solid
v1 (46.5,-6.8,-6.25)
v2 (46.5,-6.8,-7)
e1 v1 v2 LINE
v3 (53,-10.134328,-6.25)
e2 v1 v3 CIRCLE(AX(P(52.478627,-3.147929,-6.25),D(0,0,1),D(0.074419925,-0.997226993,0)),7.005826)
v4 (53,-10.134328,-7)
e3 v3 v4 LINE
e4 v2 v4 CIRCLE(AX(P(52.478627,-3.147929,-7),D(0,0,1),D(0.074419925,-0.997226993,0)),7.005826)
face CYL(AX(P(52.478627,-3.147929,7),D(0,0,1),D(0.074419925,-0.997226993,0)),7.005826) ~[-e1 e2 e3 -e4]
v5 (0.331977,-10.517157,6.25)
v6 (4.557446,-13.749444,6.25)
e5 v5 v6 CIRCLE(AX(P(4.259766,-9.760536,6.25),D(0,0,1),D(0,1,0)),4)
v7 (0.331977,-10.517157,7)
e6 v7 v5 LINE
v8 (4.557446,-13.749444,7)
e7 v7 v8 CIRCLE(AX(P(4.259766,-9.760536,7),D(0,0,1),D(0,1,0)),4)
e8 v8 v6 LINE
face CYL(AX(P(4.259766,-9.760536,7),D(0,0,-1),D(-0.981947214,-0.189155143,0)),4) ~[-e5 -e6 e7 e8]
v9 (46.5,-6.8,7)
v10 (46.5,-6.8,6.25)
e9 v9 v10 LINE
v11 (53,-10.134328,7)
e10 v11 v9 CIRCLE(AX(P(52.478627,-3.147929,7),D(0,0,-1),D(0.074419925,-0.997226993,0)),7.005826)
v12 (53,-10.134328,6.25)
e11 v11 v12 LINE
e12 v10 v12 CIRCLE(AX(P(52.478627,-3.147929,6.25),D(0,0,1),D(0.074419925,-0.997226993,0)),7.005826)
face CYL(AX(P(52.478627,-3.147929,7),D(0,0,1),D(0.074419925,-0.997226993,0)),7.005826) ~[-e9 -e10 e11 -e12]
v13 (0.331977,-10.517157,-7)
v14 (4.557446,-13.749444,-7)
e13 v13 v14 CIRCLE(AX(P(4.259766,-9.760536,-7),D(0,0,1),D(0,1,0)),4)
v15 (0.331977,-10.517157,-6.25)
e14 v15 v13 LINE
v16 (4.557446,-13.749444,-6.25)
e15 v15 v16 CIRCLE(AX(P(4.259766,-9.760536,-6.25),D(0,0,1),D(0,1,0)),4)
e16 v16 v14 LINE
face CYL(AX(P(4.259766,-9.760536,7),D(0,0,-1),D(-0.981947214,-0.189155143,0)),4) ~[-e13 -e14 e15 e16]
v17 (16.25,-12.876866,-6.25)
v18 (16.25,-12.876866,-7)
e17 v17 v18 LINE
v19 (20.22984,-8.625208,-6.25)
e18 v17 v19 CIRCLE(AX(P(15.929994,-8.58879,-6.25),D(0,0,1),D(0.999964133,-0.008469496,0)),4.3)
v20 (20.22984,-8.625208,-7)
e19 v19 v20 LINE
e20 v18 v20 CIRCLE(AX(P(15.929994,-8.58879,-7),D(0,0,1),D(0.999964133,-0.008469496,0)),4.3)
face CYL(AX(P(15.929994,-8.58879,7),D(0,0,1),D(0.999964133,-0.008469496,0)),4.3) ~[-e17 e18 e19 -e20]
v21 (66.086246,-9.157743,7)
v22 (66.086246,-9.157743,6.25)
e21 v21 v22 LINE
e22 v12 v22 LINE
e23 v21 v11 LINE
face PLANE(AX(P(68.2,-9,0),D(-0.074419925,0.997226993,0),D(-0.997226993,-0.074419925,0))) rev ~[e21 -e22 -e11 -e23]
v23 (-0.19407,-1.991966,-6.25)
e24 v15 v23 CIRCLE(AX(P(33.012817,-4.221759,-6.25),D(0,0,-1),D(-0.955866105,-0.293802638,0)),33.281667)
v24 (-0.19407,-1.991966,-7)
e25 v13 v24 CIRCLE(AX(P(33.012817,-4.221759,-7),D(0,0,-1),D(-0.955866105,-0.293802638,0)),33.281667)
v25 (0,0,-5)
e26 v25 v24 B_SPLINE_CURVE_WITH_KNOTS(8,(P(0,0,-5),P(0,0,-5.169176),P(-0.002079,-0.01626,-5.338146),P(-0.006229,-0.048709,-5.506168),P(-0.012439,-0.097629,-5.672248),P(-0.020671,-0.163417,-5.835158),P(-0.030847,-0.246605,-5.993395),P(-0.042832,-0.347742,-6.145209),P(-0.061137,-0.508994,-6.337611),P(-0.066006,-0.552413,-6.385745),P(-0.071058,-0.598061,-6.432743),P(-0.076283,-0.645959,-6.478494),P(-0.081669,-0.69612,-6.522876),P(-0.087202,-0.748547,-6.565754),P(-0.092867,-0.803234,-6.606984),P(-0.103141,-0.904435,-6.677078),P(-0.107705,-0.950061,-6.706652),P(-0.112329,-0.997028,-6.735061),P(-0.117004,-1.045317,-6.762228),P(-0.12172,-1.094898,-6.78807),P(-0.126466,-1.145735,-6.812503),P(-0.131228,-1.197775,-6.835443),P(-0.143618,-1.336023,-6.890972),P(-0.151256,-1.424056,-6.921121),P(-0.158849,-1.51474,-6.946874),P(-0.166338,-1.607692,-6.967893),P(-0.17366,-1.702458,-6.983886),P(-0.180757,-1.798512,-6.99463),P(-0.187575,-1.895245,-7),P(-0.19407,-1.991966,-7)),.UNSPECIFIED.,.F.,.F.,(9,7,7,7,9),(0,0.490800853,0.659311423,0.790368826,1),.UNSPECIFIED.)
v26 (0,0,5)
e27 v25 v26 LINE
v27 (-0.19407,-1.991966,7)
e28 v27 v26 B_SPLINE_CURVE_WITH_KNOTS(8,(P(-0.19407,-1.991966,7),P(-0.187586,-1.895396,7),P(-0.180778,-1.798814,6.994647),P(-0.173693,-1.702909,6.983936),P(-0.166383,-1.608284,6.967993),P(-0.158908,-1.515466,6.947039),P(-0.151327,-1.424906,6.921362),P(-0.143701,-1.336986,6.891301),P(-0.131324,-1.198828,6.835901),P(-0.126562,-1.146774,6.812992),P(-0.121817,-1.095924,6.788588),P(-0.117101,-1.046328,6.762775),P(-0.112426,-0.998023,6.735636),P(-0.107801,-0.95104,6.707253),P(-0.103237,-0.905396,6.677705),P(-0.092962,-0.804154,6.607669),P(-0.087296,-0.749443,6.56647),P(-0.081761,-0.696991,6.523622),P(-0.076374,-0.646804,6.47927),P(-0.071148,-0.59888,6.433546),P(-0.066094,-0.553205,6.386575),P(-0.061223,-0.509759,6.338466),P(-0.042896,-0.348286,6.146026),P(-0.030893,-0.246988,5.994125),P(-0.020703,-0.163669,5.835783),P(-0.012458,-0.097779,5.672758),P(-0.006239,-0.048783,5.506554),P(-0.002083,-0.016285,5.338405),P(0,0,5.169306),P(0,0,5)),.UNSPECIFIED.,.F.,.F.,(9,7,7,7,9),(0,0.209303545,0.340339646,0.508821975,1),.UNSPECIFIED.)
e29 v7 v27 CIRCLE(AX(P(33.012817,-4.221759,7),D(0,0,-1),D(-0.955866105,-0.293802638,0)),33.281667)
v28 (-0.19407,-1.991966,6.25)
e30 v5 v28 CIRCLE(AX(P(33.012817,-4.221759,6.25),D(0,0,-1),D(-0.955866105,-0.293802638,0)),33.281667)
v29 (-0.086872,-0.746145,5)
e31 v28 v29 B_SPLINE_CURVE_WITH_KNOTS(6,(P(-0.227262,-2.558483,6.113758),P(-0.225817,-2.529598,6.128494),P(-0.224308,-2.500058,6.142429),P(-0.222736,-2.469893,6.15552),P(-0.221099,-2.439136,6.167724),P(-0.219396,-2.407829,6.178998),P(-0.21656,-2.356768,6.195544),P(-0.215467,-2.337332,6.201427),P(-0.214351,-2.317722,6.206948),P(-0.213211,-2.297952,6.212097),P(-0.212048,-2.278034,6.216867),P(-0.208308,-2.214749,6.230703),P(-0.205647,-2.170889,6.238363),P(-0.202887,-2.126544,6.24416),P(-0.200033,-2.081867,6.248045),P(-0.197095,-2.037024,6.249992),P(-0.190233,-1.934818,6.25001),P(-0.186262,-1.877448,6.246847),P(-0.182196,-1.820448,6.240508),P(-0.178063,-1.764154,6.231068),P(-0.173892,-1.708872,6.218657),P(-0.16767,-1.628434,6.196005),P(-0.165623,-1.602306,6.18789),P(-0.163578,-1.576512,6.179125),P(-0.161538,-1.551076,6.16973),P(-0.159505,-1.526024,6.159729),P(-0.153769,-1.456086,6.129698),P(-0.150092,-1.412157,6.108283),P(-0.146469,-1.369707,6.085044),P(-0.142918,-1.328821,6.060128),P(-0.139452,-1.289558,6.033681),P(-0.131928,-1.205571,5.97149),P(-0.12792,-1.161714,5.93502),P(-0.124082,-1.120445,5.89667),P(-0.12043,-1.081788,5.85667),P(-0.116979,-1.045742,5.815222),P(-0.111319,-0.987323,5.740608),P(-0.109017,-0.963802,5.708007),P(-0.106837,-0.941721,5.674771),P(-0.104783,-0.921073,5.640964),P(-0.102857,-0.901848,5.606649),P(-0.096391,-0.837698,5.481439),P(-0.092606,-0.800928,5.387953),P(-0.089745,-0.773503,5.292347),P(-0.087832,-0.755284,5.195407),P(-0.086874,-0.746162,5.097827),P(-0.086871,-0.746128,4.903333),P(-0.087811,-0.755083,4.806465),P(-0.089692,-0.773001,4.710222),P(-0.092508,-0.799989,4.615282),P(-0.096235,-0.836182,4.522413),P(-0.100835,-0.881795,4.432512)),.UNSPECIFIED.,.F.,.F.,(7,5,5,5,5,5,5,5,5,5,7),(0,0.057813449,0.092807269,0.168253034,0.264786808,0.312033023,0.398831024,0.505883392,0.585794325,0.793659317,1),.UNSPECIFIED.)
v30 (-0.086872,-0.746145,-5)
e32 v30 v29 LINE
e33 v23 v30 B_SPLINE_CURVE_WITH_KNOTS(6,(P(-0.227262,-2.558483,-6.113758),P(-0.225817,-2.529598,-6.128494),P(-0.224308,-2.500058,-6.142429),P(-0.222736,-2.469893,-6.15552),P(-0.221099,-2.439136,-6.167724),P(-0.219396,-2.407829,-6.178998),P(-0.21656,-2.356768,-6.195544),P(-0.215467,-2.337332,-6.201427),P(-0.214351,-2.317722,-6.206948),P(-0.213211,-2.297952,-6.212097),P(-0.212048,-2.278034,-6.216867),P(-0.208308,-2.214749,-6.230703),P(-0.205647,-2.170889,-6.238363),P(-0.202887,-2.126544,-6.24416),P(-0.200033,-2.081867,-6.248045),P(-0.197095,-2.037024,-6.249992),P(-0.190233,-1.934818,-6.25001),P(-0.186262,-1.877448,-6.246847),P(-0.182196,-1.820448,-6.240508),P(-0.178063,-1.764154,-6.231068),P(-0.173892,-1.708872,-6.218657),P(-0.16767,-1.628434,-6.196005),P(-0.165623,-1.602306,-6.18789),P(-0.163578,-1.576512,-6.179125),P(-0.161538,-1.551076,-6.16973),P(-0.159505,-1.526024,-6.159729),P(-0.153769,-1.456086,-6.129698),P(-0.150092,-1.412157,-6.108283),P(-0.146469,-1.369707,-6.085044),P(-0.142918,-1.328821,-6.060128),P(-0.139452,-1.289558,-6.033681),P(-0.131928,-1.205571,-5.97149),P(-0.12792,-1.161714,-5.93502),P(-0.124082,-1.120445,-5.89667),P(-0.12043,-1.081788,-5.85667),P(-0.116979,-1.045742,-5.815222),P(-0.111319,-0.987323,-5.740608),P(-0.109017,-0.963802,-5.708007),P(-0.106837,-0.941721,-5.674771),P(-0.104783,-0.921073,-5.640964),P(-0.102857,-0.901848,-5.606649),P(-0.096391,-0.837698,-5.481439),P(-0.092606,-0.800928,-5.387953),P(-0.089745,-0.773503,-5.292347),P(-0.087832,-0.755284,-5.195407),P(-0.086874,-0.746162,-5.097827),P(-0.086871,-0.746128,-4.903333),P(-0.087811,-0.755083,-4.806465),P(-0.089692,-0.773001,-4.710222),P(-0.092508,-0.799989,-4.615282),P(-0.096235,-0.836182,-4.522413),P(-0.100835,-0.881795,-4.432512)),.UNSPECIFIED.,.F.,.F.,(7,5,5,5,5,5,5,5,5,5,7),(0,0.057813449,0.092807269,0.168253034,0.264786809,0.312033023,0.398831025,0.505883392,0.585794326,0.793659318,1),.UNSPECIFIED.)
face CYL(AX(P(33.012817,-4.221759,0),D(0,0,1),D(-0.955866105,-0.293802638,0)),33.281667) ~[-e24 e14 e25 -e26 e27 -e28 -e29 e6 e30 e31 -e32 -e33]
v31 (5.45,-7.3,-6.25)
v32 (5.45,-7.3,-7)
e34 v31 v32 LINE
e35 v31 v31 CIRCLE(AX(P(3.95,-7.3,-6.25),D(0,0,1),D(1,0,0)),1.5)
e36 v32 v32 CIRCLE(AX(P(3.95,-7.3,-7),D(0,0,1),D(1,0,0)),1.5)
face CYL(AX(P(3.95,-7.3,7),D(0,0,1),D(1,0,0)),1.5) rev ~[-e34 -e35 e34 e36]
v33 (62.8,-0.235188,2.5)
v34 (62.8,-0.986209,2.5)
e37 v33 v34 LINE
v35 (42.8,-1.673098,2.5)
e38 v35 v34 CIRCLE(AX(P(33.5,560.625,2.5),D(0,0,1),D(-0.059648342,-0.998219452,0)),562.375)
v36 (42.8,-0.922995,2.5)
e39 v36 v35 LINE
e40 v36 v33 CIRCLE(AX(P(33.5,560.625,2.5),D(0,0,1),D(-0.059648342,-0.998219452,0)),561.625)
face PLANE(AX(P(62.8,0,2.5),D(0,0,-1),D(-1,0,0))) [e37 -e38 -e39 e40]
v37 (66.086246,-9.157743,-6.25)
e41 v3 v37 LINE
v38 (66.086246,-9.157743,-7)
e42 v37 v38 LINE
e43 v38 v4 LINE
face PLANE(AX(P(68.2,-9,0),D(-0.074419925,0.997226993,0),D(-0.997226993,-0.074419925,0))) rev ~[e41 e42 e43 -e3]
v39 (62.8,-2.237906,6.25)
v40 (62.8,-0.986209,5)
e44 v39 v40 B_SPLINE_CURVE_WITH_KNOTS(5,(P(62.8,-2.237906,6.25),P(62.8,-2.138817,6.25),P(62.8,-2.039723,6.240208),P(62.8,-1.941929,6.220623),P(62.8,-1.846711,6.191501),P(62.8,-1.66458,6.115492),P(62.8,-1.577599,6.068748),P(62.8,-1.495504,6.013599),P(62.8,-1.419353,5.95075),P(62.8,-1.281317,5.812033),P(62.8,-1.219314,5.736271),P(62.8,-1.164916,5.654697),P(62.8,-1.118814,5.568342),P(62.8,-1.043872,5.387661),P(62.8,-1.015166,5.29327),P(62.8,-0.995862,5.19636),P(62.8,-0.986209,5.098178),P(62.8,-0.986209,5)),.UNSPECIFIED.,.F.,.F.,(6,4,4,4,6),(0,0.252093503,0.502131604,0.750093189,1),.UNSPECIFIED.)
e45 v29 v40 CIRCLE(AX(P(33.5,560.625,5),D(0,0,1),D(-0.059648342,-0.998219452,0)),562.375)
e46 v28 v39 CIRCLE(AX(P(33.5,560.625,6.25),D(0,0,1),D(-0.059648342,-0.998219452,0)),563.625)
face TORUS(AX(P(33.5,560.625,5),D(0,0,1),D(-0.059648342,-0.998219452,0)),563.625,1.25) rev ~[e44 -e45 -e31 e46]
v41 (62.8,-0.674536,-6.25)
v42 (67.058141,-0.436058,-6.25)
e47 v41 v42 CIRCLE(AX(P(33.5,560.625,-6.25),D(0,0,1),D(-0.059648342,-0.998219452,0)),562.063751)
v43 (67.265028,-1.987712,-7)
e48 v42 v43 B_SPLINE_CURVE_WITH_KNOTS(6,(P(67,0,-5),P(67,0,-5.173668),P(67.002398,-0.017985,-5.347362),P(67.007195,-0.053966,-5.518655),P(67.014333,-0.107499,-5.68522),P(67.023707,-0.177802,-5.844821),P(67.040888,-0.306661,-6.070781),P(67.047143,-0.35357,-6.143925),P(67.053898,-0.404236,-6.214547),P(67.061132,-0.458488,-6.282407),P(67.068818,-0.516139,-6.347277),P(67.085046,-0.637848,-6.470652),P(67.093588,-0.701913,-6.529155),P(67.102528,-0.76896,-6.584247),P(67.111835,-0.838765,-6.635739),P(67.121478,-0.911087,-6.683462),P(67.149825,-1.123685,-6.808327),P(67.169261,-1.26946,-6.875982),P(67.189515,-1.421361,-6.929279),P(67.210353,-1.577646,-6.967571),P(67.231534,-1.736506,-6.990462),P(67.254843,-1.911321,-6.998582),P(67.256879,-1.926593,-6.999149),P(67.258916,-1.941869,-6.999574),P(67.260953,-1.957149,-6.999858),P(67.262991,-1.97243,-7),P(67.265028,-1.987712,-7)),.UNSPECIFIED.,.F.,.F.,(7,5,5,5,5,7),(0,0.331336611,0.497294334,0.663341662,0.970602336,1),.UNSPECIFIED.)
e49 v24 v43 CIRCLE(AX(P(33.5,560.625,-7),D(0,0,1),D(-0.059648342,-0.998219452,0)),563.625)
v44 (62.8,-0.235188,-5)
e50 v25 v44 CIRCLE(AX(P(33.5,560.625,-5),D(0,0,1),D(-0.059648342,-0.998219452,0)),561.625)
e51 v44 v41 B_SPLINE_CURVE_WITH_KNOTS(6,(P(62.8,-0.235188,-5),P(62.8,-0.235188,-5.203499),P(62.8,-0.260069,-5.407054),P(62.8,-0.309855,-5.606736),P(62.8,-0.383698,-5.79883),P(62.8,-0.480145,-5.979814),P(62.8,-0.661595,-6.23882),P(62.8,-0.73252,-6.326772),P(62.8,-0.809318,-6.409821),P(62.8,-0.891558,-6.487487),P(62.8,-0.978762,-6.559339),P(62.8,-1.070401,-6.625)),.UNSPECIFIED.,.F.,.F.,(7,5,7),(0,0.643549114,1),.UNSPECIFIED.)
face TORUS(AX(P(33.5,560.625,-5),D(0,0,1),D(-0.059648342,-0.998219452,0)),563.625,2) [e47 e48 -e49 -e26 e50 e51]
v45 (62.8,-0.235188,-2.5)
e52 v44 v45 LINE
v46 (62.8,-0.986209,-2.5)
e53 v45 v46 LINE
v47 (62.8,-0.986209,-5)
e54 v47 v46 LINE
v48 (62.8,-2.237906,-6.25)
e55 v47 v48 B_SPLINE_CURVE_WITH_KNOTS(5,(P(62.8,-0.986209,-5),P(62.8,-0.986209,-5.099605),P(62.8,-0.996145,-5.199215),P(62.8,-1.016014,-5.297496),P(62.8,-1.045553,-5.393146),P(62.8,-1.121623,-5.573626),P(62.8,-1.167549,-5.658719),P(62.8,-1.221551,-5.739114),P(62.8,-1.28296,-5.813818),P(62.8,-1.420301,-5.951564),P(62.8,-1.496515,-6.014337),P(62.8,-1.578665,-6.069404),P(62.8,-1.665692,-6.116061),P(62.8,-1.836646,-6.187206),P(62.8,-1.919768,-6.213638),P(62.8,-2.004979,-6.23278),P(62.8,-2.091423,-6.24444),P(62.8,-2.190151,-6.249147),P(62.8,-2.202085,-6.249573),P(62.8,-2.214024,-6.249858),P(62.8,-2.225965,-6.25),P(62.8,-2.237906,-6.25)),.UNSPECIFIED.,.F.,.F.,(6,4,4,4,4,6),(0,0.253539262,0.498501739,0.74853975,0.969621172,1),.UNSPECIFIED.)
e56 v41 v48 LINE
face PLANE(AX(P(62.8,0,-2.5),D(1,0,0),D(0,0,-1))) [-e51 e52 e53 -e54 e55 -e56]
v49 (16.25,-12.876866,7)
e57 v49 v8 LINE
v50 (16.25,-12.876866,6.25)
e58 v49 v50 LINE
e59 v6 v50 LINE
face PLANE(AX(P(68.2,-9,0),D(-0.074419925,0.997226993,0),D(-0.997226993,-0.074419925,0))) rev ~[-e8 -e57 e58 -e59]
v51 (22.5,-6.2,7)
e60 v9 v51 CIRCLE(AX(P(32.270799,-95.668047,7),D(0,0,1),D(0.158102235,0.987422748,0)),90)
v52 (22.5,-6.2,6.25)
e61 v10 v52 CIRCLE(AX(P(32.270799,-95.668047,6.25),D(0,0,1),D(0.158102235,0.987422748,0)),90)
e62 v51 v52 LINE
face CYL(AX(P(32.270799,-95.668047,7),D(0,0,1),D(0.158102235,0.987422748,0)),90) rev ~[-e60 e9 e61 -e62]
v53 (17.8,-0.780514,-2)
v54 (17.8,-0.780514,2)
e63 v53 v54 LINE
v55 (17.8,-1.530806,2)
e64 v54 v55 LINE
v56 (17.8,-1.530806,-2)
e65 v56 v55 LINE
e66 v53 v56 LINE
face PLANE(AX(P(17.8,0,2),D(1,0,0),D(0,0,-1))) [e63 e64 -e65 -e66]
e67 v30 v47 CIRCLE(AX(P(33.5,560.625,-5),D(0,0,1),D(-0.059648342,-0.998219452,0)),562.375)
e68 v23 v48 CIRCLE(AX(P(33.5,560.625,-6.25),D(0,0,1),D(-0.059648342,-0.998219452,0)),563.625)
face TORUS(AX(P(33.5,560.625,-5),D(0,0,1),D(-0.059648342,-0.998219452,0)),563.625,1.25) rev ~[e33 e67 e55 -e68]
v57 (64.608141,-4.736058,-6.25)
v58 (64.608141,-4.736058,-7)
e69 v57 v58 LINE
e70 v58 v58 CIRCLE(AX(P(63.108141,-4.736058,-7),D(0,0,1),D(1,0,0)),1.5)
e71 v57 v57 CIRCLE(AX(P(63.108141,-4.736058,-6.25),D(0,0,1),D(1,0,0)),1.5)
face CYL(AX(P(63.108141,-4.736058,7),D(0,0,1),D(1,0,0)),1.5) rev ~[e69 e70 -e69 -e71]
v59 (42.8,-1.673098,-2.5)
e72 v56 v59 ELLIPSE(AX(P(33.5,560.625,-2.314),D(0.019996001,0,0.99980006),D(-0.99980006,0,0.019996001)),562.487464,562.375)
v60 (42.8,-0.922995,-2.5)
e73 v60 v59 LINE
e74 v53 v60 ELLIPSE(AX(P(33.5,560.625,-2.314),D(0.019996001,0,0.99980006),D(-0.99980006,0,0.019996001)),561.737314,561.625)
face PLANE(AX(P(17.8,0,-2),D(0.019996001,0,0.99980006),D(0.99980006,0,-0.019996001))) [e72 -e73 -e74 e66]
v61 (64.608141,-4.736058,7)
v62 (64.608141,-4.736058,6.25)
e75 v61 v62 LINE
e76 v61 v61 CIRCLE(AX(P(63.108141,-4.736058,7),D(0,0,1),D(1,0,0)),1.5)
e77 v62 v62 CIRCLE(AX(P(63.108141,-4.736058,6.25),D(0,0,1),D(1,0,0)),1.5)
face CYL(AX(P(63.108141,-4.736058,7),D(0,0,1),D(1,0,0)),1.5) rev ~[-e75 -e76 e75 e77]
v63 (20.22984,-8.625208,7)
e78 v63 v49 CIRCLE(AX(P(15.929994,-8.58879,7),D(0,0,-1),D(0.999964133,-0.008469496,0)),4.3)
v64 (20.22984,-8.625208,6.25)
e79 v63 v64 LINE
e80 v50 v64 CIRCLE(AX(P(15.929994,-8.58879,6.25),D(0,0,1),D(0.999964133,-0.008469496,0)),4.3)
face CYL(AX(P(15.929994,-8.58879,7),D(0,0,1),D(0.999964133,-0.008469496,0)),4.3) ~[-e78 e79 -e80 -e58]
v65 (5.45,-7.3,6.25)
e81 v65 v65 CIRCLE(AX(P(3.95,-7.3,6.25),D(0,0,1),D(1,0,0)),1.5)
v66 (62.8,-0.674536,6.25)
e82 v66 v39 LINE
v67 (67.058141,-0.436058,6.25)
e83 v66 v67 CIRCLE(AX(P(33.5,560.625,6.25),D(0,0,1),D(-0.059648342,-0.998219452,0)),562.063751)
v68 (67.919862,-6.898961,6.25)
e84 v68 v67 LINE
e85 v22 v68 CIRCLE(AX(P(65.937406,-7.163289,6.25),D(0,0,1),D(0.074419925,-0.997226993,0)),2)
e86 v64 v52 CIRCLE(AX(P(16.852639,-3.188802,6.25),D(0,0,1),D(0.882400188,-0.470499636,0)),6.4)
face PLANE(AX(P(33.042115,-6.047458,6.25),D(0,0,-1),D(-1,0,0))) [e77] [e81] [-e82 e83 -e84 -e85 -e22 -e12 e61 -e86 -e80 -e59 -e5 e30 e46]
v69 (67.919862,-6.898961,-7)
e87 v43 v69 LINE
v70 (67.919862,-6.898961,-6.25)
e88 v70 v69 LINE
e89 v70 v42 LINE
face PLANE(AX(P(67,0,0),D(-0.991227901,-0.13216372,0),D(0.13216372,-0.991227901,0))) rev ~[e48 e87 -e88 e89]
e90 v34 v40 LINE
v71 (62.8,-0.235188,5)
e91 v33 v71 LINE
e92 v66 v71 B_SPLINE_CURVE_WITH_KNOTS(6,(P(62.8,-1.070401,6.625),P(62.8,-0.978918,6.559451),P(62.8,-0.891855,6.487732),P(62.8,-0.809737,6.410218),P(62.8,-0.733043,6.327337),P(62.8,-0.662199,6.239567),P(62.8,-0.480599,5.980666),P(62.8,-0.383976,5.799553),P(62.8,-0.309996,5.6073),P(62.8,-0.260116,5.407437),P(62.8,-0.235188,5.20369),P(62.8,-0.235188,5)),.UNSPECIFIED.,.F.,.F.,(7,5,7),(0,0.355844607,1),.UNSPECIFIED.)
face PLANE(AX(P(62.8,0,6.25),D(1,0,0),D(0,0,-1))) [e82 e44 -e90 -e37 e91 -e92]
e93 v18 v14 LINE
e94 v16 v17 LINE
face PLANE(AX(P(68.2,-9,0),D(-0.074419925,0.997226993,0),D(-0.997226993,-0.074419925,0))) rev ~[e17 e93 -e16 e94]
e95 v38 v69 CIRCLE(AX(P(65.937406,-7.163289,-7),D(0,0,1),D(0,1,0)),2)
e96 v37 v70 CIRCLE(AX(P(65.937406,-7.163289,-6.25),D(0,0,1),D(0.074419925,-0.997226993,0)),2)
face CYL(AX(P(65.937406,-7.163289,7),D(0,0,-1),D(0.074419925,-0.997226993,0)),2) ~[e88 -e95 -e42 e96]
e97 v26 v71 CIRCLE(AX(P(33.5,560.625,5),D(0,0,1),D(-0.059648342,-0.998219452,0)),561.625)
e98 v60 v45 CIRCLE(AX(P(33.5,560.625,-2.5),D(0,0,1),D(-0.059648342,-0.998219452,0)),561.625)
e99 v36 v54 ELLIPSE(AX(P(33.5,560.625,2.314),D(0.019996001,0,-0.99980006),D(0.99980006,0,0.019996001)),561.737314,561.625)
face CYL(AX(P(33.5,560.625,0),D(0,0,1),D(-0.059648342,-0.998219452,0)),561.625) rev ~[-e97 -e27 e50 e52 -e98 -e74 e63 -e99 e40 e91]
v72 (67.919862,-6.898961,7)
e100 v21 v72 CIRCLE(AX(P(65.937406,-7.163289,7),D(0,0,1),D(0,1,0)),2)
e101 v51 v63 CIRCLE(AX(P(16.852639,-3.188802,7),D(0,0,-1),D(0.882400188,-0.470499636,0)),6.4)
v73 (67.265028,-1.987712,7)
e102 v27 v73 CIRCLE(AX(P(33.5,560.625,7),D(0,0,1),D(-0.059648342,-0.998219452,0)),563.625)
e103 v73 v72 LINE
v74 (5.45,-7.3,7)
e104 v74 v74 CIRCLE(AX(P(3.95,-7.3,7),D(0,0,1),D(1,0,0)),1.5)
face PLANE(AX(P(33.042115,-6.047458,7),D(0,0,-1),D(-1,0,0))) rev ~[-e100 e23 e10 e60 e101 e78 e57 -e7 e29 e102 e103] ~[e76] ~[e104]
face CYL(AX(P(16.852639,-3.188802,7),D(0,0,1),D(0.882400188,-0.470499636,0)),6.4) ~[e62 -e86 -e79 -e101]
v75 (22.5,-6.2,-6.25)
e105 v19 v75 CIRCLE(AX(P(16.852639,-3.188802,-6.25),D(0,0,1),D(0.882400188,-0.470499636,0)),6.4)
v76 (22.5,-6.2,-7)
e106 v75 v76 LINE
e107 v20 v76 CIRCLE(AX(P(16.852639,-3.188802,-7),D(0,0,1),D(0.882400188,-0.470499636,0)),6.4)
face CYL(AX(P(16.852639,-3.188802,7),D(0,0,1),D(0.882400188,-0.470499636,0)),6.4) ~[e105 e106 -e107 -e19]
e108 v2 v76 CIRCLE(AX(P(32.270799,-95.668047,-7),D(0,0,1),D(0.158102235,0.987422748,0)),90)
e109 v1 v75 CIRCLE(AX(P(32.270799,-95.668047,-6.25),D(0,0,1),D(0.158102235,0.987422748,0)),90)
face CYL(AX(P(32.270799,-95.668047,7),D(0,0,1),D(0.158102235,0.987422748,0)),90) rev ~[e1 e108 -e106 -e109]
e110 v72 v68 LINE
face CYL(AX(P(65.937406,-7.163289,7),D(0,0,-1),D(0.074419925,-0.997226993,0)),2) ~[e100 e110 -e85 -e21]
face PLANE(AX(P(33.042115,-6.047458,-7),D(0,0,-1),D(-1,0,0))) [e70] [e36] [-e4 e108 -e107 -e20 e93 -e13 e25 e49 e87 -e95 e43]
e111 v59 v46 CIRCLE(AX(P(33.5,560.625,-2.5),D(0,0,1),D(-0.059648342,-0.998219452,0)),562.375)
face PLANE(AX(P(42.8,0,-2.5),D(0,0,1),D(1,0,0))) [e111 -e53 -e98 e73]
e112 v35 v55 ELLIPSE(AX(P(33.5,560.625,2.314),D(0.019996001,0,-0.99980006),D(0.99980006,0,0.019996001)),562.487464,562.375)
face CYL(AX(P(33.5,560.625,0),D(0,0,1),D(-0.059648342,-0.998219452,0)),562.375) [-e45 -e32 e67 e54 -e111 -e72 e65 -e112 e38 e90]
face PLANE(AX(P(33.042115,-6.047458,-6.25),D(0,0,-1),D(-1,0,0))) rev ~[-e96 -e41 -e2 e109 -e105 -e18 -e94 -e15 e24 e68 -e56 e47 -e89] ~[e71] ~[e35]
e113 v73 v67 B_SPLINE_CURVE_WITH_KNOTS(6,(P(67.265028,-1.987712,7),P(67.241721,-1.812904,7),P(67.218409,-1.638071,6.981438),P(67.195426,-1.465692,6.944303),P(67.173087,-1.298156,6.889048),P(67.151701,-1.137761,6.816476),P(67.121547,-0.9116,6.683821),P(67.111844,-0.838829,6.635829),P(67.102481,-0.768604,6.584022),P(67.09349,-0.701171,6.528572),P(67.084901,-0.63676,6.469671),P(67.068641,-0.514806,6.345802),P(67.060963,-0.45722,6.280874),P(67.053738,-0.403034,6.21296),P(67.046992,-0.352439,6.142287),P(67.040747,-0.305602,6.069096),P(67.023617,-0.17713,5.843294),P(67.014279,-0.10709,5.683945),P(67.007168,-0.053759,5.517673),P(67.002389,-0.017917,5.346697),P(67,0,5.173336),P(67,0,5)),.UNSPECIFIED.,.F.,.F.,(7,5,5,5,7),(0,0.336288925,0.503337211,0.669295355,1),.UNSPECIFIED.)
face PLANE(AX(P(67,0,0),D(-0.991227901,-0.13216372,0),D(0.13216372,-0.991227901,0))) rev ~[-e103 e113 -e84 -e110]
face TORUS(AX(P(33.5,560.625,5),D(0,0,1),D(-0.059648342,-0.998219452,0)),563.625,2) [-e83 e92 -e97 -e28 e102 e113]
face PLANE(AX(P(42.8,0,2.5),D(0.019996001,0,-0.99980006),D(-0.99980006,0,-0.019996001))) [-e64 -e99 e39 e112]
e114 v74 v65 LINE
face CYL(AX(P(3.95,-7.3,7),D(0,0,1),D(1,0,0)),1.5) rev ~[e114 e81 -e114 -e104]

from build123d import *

# Parameters (mm, degrees)
BOSS_EXTRUDE1_DEPTH = 7
FILLET1_R           = 4
FILLET2_R           = 2
SHELL1_T            = -0.75
CUT_EXTRUDE1_DEPTH  = 14
SKETCH5_R           = 1.5
CUT_EXTRUDE2_DEPTH  = 71.716642035
CUT_EXTRUDE3_DEPTH  = 71.716642035


with BuildPart() as part:
    # Sketch2 → Boss-Extrude1 (new, symmetric)
    with BuildSketch(Plane.XY):
        with BuildLine():
            Line((67, 0), (68.2, -9))
            Line((68.2, -9), (1.2, -14))
            Line((1.2, -14), (0, 0))
            ThreePointArc((0, 0), (33.5, -1), (67, 0))
        make_face()
        with BuildLine():
            ThreePointArc((1.2, -14), (-0.147259987, -7.064050856), (0, 0))
            Line((0, 0), (1.2, -14))
        make_face()
    extrude(amount=BOSS_EXTRUDE1_DEPTH, both=True)

    # Fillet1
    fillet1_edges = [part.edges().sort_by_distance(p)[0] for p in [
        (1.2, -14, 0),
    ]]
    fillet(fillet1_edges, radius=FILLET1_R)

    # Fillet2
    fillet2_edges = [part.edges().sort_by_distance(p)[0] for p in [
        (33.5, -1, 7),
        (33.5, -1, -7),
        (68.2, -9, 0),
    ]]
    fillet(fillet2_edges, radius=FILLET2_R)

    # Shell1
    shell1_openings = [part.faces().sort_by_distance(p)[0] for p in [
        (67.467137389, -3.50353042, 6e-09),
        (1.829469038, -12.937587905, 0),
        (67.490186671, -8.423793277, 0),
        (35.321845663, -11.453593607, 0),
        (-0.252281581, -5.271781297, 0),
    ]]
    offset(amount=SHELL1_T, openings=shell1_openings)

    # Sketch4 → Cut-Extrude1 (cut)
    with BuildSketch(Plane(origin=(0, 0, 0), x_dir=(1, 0, 0), z_dir=(0, 1, 0))):
        Polygon((17.8, -2), (17.8, 2), (42.8, 2.5), (62.8, 2.5), (62.8, 6.25), (67.8, 6.25), (67.8, -6.25), (62.8, -6.25), (62.8, -2.5), (42.8, -2.5), align=None)
    extrude(amount=-CUT_EXTRUDE1_DEPTH, mode=Mode.SUBTRACT)

    # Sketch5 → Cut-Extrude2 (cut, through all)
    with BuildSketch(Plane.XY.offset(7)):
        with Locations((3.95, -7.3)):
            Circle(SKETCH5_R)
        with Locations((63.108141066, -4.736057992)):
            Circle(SKETCH5_R)
    extrude(amount=-CUT_EXTRUDE2_DEPTH, mode=Mode.SUBTRACT)

    # Sketch6 → Cut-Extrude3 (cut, through all)
    with BuildSketch(Plane.XY.offset(7)):
        with BuildLine():
            Line((16.25, -12.876865672), (53, -10.134328358))
            ThreePointArc((53, -10.134328358), (49.280996353, -9.38144837), (46.5, -6.8))
            ThreePointArc((46.5, -6.8), (34.520096022, -5.696159139), (22.5, -6.2))
            ThreePointArc((22.5, -6.2), (21.525014111, -7.562463141), (20.229840096, -8.625208437))
            ThreePointArc((20.229840096, -8.625208437), (19.06924649, -11.527342961), (16.25, -12.876865672))
        make_face()
    extrude(amount=-CUT_EXTRUDE3_DEPTH, mode=Mode.SUBTRACT)


solid = part.part
